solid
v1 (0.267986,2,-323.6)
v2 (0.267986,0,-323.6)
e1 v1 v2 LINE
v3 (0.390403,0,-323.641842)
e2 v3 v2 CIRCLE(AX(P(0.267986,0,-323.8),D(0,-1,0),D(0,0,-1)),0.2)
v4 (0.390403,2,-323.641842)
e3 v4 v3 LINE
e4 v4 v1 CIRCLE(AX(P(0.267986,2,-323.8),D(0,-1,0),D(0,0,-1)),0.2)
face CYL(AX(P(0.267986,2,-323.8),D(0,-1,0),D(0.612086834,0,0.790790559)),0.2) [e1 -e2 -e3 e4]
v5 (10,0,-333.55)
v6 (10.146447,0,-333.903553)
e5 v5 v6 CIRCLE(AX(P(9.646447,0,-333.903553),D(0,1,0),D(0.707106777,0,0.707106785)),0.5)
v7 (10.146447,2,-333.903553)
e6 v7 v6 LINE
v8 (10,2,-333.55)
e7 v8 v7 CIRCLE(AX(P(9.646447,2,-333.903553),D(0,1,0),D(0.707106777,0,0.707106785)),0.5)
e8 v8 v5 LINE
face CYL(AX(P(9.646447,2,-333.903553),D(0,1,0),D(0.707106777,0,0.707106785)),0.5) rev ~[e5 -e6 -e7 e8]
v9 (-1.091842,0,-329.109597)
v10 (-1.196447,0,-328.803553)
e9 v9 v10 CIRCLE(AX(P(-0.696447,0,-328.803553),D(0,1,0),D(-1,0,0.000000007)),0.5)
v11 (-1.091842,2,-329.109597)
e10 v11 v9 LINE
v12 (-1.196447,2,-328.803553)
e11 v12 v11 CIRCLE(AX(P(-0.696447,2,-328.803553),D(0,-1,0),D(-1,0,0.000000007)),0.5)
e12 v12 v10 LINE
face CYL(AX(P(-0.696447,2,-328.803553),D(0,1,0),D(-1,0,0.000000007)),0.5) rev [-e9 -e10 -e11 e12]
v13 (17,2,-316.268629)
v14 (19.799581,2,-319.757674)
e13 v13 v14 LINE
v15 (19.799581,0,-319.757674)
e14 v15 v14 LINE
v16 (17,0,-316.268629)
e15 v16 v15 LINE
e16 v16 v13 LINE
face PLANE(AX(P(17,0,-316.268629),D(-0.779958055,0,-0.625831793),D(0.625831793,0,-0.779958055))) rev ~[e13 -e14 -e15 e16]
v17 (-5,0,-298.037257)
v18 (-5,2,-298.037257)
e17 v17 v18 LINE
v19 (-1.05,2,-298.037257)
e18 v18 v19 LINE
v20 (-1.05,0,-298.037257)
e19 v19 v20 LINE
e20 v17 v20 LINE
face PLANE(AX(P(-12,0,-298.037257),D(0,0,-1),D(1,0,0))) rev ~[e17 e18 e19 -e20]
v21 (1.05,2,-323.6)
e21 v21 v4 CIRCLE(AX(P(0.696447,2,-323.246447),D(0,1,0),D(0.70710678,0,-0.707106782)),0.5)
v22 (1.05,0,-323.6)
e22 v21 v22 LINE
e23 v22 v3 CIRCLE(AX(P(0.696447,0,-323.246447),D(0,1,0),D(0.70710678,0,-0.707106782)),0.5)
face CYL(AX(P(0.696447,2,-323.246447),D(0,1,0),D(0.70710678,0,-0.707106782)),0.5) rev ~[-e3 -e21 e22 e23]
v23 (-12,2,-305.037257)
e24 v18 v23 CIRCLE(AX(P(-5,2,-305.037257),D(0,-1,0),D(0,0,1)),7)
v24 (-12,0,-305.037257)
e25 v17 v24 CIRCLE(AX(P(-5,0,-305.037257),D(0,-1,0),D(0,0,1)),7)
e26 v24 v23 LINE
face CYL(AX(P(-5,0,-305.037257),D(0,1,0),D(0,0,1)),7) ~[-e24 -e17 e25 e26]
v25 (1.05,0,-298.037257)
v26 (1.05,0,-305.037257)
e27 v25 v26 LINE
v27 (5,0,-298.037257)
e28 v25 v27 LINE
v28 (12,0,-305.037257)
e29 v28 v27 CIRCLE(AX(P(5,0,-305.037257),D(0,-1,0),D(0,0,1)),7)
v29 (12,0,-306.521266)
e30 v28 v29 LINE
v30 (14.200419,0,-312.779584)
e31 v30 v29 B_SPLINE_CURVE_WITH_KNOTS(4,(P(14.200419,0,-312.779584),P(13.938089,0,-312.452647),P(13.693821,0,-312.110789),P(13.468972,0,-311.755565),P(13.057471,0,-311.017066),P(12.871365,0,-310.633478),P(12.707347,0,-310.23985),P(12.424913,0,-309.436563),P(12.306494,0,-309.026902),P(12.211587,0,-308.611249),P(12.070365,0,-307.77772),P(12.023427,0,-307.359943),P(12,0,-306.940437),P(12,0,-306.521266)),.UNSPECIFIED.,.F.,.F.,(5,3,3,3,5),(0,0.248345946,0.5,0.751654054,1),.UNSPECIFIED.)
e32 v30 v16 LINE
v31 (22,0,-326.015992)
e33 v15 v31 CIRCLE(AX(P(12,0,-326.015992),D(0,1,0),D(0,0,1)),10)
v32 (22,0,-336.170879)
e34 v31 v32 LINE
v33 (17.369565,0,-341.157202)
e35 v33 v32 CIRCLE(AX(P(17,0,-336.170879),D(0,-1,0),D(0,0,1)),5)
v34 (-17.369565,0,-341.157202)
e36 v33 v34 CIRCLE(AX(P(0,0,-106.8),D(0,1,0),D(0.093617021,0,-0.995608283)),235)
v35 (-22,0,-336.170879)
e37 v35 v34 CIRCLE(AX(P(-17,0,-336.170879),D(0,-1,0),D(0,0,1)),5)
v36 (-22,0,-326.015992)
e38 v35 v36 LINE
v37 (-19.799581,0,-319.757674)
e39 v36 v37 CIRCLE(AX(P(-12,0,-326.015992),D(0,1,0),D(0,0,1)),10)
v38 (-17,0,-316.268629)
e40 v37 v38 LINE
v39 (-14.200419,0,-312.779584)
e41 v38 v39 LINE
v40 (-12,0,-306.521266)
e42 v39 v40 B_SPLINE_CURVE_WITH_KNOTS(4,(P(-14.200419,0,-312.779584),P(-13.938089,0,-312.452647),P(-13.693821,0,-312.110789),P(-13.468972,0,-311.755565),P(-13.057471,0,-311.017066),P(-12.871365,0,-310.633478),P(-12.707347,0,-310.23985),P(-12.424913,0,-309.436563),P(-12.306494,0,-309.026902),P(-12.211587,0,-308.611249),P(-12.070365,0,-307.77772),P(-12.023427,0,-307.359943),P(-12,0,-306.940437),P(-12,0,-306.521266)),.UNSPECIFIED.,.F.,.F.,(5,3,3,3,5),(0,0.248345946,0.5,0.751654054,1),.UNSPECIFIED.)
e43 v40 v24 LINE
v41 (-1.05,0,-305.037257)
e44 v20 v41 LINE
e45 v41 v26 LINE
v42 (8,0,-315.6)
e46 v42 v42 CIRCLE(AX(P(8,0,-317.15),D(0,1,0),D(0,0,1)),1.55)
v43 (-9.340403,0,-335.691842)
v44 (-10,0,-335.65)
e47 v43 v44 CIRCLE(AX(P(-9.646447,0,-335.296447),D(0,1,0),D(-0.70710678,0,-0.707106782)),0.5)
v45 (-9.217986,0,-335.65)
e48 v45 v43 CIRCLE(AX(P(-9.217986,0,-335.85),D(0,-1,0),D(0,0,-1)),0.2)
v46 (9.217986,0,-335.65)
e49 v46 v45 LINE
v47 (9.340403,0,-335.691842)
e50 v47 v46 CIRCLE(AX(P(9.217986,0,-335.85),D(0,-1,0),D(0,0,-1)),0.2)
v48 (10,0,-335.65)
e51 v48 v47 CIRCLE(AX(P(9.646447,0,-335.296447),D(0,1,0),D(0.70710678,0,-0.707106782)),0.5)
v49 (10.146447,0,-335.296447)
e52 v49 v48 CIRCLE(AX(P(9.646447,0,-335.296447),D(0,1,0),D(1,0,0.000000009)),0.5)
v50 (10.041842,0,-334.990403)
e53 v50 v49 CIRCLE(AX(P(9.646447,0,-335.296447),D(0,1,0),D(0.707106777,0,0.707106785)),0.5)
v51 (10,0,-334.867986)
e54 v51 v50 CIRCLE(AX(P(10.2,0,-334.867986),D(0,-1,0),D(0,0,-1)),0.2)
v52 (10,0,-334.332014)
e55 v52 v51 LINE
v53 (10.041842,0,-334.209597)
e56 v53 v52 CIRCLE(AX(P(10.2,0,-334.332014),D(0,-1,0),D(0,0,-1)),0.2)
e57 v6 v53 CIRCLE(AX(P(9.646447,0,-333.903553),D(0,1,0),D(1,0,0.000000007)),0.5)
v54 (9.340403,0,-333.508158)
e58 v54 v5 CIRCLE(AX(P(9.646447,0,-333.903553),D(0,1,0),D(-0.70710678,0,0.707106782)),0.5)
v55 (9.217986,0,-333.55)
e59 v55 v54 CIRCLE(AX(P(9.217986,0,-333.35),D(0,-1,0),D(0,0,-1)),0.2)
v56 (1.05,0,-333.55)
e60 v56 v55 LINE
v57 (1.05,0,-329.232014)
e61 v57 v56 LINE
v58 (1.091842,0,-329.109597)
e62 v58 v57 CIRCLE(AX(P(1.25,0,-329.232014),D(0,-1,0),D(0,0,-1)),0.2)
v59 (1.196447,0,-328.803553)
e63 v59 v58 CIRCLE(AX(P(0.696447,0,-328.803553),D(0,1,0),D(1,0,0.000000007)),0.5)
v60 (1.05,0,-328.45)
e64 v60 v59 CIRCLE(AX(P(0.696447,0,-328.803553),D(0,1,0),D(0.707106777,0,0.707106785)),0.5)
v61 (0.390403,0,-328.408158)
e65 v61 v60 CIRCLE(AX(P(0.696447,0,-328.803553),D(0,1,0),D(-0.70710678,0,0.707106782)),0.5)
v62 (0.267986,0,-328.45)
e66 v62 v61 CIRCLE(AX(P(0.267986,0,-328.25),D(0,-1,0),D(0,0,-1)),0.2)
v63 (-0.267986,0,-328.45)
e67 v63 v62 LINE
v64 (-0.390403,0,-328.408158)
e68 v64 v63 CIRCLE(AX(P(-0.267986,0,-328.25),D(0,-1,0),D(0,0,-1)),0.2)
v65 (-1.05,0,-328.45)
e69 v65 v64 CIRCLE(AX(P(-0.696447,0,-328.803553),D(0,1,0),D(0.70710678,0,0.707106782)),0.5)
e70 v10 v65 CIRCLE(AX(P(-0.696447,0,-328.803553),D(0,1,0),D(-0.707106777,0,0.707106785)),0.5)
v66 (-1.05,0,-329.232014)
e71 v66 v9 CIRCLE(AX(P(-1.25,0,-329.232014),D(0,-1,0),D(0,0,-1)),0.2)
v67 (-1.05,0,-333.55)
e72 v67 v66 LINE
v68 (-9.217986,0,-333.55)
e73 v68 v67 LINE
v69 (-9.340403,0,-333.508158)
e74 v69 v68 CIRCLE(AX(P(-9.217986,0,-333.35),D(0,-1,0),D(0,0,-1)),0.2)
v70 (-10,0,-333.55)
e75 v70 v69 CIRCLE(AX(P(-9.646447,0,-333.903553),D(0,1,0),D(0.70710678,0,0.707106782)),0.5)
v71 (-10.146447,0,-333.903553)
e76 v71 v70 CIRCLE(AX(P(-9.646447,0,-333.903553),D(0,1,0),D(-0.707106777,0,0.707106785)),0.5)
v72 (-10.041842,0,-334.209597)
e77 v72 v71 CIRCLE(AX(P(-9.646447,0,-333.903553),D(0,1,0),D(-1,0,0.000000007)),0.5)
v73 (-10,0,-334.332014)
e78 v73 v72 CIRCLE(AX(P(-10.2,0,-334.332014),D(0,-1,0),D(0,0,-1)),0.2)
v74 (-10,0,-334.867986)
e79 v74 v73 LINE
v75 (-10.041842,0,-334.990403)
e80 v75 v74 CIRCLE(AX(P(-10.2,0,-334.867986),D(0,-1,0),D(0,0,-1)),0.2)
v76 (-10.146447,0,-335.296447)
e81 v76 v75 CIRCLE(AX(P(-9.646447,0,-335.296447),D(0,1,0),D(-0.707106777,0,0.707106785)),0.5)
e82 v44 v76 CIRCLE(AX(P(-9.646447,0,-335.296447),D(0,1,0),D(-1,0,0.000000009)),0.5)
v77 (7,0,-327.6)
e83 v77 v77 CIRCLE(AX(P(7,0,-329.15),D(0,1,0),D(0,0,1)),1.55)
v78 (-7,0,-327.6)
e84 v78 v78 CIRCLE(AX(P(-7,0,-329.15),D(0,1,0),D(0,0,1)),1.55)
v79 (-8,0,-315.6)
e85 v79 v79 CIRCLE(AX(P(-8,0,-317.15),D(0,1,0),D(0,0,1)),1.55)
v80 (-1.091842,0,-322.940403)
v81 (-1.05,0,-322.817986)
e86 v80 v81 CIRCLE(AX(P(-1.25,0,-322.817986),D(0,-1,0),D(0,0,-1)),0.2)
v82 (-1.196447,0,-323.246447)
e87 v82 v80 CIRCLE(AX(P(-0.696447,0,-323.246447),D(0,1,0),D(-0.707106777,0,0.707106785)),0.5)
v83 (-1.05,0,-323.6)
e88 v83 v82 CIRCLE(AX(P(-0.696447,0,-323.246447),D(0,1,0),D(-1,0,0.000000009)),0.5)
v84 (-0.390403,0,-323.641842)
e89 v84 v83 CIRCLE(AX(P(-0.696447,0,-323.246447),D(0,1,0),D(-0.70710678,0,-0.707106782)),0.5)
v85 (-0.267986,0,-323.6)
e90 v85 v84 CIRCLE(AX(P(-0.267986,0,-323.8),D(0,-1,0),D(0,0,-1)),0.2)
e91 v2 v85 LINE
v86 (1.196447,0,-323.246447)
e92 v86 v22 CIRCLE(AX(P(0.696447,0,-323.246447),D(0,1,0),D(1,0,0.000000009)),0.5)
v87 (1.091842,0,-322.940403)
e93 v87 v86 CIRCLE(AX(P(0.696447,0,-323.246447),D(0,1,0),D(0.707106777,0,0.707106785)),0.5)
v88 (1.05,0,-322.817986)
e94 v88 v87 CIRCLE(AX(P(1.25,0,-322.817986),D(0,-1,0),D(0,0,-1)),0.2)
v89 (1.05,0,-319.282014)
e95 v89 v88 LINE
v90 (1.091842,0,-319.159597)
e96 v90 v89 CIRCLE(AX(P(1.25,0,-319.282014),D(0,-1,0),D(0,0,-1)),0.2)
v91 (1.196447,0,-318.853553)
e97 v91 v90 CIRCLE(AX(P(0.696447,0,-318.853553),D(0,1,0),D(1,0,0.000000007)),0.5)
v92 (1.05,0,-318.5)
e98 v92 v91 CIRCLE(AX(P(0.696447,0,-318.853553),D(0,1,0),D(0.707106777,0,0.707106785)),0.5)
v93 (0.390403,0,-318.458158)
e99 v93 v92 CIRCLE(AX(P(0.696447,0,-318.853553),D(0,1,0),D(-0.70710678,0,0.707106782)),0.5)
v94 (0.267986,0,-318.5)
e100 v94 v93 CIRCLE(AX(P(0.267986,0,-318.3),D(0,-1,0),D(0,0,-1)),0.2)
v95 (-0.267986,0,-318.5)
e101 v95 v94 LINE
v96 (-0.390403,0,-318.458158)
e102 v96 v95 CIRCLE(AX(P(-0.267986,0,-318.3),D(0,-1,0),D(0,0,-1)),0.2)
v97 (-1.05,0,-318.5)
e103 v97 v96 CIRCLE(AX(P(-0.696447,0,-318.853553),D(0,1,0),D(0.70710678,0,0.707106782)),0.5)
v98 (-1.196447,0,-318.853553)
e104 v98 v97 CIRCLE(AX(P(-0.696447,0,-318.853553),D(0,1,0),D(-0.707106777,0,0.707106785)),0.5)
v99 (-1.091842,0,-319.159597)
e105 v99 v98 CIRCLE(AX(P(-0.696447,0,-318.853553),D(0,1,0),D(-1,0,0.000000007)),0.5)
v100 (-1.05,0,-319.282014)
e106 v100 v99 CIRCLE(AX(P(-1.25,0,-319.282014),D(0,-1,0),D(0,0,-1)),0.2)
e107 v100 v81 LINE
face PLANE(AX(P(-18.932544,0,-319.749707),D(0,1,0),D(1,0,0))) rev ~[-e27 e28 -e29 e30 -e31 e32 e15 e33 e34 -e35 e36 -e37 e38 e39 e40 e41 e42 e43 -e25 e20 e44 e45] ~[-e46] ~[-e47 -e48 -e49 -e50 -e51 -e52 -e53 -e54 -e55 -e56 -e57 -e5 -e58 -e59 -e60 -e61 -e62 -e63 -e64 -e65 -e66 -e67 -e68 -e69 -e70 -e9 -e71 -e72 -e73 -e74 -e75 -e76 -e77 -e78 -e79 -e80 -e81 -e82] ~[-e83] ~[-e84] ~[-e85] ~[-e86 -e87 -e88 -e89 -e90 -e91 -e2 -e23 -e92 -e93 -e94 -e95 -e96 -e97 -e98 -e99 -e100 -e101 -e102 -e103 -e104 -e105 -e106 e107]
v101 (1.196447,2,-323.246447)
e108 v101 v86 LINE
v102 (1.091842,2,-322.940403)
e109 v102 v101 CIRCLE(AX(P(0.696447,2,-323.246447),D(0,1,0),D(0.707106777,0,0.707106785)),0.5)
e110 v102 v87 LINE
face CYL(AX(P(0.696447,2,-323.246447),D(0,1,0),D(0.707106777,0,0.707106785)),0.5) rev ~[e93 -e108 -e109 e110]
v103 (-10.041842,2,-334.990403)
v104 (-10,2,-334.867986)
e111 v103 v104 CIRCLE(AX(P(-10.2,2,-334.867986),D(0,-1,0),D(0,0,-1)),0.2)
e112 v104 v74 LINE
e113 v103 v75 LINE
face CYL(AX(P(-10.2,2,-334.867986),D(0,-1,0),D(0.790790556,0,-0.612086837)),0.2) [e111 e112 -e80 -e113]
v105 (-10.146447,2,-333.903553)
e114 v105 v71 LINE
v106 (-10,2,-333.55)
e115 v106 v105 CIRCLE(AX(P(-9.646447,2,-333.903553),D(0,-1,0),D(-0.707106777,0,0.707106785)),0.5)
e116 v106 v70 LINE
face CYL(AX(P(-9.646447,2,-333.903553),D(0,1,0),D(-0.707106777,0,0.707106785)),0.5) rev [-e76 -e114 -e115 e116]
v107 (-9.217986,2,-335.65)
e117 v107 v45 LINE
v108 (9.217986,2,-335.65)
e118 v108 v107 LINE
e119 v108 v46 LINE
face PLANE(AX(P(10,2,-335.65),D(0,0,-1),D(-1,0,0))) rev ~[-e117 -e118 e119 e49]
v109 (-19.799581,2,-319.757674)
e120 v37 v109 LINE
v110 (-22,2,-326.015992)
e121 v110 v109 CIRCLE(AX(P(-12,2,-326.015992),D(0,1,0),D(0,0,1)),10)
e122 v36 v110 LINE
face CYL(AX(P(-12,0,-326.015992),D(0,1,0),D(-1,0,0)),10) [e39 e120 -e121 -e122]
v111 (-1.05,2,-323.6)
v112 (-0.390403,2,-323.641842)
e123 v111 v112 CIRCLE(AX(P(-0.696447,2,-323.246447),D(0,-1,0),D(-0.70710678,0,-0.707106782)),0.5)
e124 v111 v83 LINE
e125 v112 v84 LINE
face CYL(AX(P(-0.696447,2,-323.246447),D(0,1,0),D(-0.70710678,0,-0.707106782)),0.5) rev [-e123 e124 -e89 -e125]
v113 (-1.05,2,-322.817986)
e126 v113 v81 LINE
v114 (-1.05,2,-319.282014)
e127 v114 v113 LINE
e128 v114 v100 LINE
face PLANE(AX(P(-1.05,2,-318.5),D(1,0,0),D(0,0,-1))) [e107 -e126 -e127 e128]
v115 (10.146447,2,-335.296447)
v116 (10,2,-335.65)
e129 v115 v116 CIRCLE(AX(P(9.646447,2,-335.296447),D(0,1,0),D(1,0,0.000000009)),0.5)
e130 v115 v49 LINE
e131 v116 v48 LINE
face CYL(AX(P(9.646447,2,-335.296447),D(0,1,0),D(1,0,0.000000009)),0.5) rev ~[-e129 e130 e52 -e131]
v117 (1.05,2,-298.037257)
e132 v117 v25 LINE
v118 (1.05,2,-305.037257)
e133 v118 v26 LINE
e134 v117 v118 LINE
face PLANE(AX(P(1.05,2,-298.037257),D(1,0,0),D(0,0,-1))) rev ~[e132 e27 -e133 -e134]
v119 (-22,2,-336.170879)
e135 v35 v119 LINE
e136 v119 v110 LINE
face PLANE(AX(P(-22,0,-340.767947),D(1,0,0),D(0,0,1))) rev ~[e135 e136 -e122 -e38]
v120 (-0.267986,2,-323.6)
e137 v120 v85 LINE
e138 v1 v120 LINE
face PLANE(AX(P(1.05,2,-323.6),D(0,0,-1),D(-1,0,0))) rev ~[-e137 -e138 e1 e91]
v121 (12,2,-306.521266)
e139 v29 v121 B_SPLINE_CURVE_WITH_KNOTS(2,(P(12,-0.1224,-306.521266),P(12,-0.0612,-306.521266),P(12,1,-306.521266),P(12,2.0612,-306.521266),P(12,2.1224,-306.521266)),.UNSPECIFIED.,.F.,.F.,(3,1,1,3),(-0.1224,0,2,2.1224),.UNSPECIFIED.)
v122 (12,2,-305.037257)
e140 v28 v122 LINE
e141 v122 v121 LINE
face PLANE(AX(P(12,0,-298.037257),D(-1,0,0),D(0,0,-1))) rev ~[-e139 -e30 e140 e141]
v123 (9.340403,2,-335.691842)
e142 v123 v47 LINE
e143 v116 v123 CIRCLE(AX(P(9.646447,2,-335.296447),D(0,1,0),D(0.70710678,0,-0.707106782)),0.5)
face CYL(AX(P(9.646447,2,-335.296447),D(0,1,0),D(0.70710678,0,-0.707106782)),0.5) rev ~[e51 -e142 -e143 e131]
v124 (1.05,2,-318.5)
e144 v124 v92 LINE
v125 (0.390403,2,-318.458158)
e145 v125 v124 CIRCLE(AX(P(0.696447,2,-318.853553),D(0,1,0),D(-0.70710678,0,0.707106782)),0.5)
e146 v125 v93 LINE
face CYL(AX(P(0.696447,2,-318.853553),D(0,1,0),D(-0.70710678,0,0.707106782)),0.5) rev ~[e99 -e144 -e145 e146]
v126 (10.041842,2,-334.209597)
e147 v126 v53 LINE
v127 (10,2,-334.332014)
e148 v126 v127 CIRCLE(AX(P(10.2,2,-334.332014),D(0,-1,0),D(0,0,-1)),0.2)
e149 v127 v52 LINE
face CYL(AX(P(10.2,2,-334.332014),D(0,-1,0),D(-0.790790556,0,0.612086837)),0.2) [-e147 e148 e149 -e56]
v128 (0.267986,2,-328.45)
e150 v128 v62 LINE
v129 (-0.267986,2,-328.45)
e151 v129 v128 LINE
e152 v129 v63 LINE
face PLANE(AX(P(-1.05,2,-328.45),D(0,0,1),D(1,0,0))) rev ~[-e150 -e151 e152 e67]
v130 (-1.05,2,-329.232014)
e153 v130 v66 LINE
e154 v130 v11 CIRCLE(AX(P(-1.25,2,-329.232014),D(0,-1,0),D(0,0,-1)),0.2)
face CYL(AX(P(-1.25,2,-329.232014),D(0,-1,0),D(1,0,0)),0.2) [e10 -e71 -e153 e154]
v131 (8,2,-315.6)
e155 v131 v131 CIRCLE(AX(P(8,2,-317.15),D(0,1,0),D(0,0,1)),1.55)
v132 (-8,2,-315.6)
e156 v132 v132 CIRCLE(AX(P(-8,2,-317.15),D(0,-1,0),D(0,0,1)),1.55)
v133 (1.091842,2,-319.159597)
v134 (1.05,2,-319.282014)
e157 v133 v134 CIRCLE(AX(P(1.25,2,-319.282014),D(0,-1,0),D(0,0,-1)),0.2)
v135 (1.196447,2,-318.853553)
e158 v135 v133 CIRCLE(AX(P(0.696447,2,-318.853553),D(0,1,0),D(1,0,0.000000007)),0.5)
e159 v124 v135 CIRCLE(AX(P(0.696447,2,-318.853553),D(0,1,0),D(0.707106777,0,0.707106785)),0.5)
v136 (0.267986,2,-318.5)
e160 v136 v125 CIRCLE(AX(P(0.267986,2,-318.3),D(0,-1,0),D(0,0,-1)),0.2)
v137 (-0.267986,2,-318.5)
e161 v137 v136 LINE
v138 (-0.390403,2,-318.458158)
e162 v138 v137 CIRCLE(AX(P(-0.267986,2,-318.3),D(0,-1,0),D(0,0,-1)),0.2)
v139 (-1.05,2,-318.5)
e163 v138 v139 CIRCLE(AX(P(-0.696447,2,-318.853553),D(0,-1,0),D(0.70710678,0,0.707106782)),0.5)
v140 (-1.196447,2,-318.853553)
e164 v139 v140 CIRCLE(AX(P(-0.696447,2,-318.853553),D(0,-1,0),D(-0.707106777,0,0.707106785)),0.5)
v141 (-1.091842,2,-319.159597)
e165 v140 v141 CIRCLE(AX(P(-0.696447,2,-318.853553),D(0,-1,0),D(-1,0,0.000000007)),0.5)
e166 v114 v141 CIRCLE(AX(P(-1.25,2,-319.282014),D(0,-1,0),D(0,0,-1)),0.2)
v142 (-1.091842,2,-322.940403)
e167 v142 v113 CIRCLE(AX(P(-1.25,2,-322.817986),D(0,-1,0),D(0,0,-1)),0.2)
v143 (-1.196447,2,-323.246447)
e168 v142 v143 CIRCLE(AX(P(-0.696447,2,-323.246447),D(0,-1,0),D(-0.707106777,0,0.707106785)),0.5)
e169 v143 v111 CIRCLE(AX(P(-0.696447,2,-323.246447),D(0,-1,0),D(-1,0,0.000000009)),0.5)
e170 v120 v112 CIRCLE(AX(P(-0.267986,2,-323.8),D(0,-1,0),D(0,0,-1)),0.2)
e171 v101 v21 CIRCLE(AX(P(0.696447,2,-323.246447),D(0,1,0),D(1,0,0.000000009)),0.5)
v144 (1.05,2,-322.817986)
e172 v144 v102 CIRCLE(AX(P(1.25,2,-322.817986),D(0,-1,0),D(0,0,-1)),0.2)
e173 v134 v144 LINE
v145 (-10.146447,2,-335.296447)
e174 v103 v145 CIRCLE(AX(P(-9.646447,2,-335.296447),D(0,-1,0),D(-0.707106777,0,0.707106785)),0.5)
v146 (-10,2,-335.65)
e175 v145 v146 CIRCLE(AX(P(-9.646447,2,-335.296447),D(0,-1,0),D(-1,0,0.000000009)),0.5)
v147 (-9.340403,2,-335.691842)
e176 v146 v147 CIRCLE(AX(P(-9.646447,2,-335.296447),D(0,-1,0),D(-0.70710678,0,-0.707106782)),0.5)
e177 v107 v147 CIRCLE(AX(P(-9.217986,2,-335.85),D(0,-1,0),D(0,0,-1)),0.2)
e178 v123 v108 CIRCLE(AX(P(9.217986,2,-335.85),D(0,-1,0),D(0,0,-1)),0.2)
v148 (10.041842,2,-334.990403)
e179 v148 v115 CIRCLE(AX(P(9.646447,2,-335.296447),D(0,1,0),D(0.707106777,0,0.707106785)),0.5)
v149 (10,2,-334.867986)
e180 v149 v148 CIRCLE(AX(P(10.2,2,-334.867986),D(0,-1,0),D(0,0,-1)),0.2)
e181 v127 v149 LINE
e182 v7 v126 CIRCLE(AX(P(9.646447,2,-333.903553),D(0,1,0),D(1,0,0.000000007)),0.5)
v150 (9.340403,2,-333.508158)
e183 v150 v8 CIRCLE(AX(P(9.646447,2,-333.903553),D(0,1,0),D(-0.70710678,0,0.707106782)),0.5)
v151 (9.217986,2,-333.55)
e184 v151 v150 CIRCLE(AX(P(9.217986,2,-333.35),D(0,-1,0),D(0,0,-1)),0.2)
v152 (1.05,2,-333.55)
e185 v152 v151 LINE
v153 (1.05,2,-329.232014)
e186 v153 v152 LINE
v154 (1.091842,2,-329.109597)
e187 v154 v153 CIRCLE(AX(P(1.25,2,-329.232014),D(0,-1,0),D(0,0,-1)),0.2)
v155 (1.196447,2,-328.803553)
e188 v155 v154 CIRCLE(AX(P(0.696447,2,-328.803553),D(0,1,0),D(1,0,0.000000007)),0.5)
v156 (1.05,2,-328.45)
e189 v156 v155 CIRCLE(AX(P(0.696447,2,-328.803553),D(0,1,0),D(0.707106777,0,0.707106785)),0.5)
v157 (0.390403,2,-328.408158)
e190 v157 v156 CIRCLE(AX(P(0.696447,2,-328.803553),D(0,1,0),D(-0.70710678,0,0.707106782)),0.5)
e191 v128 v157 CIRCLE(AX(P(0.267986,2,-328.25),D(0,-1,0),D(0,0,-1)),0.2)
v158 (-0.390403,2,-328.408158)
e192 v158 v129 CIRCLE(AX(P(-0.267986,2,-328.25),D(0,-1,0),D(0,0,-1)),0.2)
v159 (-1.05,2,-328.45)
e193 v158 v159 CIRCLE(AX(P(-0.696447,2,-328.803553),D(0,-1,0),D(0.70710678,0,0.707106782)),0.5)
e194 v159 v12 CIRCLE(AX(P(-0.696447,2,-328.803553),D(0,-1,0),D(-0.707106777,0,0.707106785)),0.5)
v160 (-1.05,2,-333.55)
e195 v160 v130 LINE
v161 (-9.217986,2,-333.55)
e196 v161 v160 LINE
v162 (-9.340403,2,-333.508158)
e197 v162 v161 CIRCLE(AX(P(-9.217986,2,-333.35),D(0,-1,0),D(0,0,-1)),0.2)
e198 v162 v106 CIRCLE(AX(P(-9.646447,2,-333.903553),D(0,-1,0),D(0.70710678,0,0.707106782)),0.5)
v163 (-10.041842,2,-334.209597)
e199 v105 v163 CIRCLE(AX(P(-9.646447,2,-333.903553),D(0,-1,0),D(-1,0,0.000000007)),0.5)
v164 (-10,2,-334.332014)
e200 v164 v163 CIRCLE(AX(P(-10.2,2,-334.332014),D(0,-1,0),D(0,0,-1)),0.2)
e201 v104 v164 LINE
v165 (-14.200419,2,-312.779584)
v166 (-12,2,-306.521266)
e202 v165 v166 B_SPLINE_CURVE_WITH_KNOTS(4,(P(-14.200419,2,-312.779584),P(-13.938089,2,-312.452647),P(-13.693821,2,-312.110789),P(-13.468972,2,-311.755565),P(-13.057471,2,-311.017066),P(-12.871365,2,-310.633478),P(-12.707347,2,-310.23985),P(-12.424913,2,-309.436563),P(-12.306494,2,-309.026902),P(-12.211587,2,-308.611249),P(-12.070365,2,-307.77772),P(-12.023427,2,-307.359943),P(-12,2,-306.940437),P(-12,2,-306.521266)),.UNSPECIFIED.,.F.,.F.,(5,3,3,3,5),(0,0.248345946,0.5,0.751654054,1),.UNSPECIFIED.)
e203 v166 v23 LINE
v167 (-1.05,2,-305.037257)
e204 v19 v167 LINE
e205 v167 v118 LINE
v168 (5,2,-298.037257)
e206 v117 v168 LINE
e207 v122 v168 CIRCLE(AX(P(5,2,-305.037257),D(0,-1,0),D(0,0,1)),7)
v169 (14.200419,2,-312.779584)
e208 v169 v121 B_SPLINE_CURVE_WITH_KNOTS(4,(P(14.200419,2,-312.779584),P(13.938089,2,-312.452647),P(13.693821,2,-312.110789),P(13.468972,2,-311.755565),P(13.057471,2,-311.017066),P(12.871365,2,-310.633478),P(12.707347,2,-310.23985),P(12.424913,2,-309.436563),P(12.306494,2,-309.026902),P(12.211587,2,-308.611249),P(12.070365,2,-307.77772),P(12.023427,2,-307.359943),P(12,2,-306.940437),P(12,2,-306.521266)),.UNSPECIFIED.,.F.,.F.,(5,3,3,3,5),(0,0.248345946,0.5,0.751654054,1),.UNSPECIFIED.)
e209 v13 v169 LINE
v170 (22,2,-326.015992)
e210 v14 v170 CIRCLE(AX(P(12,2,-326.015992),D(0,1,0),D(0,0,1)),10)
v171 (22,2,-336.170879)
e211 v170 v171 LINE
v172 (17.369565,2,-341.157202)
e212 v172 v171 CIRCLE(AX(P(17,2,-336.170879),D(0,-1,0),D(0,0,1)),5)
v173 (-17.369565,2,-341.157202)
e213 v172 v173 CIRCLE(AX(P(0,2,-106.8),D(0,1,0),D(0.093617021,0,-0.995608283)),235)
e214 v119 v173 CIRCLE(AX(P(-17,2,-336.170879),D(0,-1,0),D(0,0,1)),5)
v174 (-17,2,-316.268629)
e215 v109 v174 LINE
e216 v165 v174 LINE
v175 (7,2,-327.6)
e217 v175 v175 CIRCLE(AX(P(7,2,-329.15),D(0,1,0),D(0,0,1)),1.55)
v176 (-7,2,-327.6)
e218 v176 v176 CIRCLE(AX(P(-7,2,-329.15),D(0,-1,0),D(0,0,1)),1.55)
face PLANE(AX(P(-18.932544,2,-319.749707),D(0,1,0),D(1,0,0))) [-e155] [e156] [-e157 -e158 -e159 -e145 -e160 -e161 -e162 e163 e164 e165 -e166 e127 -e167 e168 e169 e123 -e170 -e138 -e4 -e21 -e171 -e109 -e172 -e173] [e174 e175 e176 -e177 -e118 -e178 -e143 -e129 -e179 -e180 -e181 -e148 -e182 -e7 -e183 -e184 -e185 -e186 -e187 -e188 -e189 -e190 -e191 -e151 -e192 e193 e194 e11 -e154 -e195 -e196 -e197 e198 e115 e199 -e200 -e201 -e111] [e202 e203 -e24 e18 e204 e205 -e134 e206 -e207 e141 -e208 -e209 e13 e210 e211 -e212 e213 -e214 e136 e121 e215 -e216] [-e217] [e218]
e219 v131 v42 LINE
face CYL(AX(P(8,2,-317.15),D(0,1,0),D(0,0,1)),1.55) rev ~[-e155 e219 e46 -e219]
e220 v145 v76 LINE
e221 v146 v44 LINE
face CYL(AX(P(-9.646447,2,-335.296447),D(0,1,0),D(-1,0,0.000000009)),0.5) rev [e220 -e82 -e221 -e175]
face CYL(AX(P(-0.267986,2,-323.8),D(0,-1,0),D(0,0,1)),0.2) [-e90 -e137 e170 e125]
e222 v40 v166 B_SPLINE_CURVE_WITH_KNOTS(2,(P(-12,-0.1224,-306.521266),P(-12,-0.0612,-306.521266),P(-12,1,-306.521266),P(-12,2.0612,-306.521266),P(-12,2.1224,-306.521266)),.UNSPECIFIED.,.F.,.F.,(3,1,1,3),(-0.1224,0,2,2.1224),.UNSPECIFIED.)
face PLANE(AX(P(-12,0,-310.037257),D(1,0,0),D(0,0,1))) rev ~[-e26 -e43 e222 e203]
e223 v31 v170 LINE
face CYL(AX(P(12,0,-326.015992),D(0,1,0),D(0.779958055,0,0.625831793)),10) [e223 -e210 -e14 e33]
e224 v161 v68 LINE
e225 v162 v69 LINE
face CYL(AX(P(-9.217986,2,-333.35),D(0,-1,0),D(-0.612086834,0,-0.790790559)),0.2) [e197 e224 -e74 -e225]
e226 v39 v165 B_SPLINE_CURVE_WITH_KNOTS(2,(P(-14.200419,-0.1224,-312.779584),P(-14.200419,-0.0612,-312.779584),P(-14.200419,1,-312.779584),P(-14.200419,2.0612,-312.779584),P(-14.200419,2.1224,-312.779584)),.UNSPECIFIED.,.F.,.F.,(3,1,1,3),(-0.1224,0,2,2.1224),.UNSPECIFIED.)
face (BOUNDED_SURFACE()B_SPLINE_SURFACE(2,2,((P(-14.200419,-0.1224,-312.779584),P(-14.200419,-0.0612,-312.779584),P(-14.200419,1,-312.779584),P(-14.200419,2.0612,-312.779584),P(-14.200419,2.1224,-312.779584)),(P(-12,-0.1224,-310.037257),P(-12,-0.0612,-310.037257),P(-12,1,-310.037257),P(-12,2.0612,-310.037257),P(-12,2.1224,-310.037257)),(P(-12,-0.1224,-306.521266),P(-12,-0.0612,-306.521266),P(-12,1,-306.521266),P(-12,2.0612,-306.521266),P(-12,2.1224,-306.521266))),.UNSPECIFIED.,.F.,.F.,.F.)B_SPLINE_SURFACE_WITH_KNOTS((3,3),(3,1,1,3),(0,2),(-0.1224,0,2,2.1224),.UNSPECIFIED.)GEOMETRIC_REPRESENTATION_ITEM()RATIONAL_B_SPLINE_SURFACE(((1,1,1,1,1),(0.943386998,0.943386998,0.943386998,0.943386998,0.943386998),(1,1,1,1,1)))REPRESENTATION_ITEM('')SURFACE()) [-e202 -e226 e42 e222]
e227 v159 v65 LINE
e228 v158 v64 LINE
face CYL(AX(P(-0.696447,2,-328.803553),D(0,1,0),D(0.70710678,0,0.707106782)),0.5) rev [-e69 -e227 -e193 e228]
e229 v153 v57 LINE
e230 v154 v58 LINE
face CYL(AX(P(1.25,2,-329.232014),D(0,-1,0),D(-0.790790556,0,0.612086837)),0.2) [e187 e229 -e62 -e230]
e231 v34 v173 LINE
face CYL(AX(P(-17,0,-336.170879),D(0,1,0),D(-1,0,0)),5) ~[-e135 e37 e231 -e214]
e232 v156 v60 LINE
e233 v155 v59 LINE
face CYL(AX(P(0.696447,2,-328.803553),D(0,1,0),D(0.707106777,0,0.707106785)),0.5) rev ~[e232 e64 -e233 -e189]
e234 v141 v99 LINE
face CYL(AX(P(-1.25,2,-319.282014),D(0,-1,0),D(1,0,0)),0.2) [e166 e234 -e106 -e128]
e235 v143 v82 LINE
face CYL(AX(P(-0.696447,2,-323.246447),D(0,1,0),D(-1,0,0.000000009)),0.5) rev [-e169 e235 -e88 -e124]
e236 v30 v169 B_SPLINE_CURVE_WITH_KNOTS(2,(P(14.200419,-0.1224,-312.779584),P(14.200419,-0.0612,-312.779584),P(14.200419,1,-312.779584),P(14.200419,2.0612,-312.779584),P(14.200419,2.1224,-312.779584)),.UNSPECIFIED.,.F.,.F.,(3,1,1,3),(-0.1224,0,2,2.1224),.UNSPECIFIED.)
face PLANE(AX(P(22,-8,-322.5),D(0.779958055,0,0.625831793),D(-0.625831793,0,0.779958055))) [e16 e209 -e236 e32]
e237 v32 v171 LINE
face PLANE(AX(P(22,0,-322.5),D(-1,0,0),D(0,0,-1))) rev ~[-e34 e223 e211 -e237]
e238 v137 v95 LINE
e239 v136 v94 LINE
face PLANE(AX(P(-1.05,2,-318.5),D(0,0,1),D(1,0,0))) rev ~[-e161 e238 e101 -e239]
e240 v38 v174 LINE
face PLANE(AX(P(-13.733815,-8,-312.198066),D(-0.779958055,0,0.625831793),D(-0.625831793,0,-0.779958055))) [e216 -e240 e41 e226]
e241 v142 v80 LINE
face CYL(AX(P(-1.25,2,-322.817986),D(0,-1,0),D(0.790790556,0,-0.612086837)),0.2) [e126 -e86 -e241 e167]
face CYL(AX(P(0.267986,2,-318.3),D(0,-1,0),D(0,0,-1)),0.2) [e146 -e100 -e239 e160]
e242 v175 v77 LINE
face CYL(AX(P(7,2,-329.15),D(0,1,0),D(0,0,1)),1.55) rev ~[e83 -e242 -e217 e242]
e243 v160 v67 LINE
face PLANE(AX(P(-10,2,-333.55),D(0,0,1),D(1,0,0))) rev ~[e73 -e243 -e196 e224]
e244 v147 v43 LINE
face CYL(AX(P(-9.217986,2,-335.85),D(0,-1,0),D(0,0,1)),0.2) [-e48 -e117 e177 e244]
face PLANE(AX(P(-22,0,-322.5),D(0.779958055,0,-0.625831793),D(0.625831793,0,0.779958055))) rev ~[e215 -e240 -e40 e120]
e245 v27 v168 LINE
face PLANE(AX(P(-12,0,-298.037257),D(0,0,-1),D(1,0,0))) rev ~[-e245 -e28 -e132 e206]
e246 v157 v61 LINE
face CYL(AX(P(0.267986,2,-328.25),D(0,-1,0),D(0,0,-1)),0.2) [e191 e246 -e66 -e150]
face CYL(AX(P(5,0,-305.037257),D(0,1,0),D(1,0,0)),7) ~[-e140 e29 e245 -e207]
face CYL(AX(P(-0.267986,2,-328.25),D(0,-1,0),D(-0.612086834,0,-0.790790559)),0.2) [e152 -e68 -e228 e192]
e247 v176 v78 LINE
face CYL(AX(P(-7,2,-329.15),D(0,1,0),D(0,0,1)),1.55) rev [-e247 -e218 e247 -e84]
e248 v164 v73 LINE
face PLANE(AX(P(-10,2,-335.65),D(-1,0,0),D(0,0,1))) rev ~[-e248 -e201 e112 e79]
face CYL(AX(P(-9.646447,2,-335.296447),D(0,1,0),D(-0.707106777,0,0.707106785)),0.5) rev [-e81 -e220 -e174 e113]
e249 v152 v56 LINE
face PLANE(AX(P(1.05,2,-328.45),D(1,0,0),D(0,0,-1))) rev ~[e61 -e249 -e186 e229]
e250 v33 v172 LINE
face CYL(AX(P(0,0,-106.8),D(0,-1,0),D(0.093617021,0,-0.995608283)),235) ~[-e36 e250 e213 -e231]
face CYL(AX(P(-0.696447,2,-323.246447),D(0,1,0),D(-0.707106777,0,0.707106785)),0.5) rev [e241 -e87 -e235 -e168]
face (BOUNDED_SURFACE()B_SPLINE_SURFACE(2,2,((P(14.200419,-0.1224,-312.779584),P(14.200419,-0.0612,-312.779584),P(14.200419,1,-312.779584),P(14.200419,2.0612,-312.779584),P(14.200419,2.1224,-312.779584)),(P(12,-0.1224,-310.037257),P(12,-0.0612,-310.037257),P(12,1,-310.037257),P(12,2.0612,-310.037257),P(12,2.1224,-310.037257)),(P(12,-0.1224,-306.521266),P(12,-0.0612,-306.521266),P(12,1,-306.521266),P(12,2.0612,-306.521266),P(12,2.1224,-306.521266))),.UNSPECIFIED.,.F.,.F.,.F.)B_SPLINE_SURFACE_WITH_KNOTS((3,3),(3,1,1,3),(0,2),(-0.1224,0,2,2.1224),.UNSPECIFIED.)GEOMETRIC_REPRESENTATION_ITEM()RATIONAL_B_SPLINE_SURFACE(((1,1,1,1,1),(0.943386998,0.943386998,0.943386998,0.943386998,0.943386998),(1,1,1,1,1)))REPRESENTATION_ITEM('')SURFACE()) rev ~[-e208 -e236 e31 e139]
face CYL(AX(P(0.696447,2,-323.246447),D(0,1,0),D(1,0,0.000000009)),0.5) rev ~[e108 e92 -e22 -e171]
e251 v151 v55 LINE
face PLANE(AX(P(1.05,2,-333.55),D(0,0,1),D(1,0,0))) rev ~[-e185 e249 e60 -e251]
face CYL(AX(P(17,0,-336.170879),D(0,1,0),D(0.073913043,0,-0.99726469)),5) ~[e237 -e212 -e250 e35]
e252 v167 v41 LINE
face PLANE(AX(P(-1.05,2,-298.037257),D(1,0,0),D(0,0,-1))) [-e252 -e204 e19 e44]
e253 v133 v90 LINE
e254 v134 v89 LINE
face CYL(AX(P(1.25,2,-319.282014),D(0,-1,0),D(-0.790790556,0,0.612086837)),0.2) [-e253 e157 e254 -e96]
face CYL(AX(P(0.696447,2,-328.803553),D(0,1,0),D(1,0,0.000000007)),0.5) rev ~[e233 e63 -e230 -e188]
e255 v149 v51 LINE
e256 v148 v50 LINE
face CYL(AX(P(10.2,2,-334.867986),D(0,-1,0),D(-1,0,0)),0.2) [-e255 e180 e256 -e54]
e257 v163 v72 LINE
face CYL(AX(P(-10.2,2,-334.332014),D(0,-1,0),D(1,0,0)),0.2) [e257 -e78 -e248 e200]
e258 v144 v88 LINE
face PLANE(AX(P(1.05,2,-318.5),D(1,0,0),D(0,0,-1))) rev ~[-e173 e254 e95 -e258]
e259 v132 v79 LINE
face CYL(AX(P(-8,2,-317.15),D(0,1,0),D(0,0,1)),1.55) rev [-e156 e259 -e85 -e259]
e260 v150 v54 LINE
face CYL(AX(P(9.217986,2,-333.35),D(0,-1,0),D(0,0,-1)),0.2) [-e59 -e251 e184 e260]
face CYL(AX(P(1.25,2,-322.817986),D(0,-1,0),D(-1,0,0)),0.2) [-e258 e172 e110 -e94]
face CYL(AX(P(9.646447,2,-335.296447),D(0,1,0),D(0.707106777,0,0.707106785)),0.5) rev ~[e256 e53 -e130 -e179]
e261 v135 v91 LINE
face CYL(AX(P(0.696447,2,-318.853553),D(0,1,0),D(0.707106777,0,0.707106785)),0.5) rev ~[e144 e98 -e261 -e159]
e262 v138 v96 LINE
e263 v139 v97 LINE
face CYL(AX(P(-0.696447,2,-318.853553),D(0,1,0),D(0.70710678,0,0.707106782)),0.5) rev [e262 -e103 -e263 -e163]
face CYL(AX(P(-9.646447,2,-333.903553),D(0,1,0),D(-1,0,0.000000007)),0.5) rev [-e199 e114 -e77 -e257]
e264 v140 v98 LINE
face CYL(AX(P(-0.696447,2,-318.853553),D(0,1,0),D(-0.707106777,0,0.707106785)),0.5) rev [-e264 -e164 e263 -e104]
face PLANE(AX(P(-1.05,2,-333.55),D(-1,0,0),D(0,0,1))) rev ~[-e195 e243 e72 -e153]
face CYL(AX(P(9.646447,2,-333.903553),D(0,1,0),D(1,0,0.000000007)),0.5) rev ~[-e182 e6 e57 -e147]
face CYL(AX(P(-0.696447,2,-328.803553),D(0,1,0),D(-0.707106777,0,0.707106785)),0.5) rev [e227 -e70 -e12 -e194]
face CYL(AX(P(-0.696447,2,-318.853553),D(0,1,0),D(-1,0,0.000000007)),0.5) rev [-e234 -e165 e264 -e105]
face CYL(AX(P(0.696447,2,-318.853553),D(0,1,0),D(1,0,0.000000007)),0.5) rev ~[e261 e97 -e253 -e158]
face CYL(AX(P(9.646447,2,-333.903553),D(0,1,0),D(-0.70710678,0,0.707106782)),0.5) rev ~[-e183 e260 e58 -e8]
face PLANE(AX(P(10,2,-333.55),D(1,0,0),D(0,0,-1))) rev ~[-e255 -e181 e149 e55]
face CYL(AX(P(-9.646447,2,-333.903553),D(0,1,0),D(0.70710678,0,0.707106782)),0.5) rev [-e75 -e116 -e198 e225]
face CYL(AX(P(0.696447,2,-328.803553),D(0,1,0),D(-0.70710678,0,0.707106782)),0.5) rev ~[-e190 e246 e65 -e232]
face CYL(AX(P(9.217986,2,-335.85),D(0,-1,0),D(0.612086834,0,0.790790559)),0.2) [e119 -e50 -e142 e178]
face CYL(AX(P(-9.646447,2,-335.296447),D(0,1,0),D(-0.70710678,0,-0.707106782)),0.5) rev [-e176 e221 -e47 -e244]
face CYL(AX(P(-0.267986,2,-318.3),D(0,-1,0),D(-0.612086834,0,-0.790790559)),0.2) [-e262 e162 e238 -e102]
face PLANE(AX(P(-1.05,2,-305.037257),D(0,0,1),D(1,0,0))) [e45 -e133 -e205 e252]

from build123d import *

# Parameters (mm, degrees)
EXTRUDE_1_DEPTH     = 2
SKETCH_2_W          = 1.05
SKETCH_2_H          = 5.1
CUT_EXTRUDE_1_DEPTH = 343.513123836
CUT_EXTRUDE_2_DEPTH = 343.513123836
FILLET_1_R          = 0.2
SKETCH_4_R          = 1.55
CUT_EXTRUDE_3_DEPTH = 343.513123836
FILLET_2_R          = 5
EXTRUDE_START       = -2
EXTRUDE_2_DEPTH     = 2
CUT_EXTRUDE_START   = -10
CUT_EXTRUDE_5_DEPTH = 10
SKETCH_6_W          = 2.1
SKETCH_6_H          = 7
CUT_EXTRUDE_4_DEPTH = 2
FILLET_8_R          = 7
FILLET_5_R          = 10
FILLET_6_R          = 10


with BuildPart() as part:
    # 草图1 → 凸台-拉伸1 (new body)
    with BuildSketch(Plane(origin=(0, 0, 0), x_dir=(1, 0, 0), z_dir=(0, 1, 0))):
        with BuildLine():
            Line((-22, 322.5), (-17, 320.227272727))
            Line((-17, 320.227272727), (-17, 312.037257391))
            ThreePointArc((-17, 312.037257391), (0, 312.5), (17, 312.037257391))
            Line((17, 312.037257391), (17, 320.227272727))
            Line((17, 320.227272727), (22, 322.5))
            Line((22, 322.5), (22, 340.767946523))
            ThreePointArc((22, 340.767946523), (0, 341.8), (-22, 340.767946523))
            Line((-22, 340.767946523), (-22, 322.5))
        make_face()
    extrude(amount=EXTRUDE_1_DEPTH)

    # 草图2 → 切除-拉伸1 (cut, through all)
    with BuildSketch(Plane(origin=(0, 2, 0), x_dir=(1, 0, 0), z_dir=(0, 1, 0))):
        Polygon((0, 335.65), (0, 328.45), (1.05, 328.45), (1.05, 333.55), (10, 333.55), (10, 335.65), align=None)
        Polygon((-1.05, 328.45), (0, 328.45), (0, 335.65), (-10, 335.65), (-10, 333.55), (-1.05, 333.55), align=None)
        with Locations((0.525, 321.05)):
            Rectangle(SKETCH_2_W, SKETCH_2_H)
        with Locations((-0.525, 321.05)):
            Rectangle(SKETCH_2_W, SKETCH_2_H)
    extrude(amount=-CUT_EXTRUDE_1_DEPTH, mode=Mode.SUBTRACT)

    # 草图3 → 切除-拉伸2 (cut, through all)
    with BuildSketch(Plane(origin=(0, 2, 0), x_dir=(1, 0, 0), z_dir=(0, 1, 0))):
        with BuildLine():
            Line((10, 335.65), (10, 334.942893219))
            ThreePointArc((10, 334.942893219), (10.108386376, 335.105104893), (10.146446609, 335.296446609))
            ThreePointArc((10.146446609, 335.296446609), (10.108386376, 335.487788326), (10, 335.65))
        make_face()
        with BuildLine():
            ThreePointArc((10, 335.65), (9.646446609, 335.796446609), (9.292893219, 335.65))
            Line((9.292893219, 335.65), (10, 335.65))
        make_face()
        with BuildLine():
            ThreePointArc((10.146446609, 333.903553391), (10.108386376, 334.094895107), (10, 334.257106781))
            Line((10, 334.257106781), (10, 333.55))
            ThreePointArc((10, 333.55), (10.108386376, 333.712211674), (10.146446609, 333.903553391))
        make_face()
        with BuildLine():
            Line((10, 333.55), (9.292893219, 333.55))
            ThreePointArc((9.292893219, 333.55), (9.646446609, 333.403553391), (10, 333.55))
        make_face()
        with BuildLine():
            ThreePointArc((1.196446609, 328.803553391), (1.158386376, 328.994895107), (1.05, 329.157106781))
            Line((1.05, 329.157106781), (1.05, 328.45))
            ThreePointArc((1.05, 328.45), (1.158386376, 328.612211674), (1.196446609, 328.803553391))
        make_face()
        with BuildLine():
            Line((1.05, 328.45), (0.342893219, 328.45))
            ThreePointArc((0.342893219, 328.45), (0.696446609, 328.303553391), (1.05, 328.45))
        make_face()
        with BuildLine():
            ThreePointArc((1.196446609, 323.246446609), (1.158386376, 323.437788326), (1.05, 323.6))
            Line((1.05, 323.6), (1.05, 322.892893219))
            ThreePointArc((1.05, 322.892893219), (1.158386376, 323.055104893), (1.196446609, 323.246446609))
        make_face()
        with BuildLine():
            ThreePointArc((1.05, 323.6), (0.696446609, 323.746446609), (0.342893219, 323.6))
            Line((0.342893219, 323.6), (1.05, 323.6))
        make_face()
        with BuildLine():
            ThreePointArc((1.196446609, 318.853553391), (1.158386376, 319.044895107), (1.05, 319.207106781))
            Line((1.05, 319.207106781), (1.05, 318.5))
            ThreePointArc((1.05, 318.5), (1.158386376, 318.662211674), (1.196446609, 318.853553391))
        make_face()
        with BuildLine():
            Line((1.05, 318.5), (0.342893219, 318.5))
            ThreePointArc((0.342893219, 318.5), (0.696446609, 318.353553391), (1.05, 318.5))
        make_face()
    cut_extrude_2 = extrude(amount=-CUT_EXTRUDE_2_DEPTH, mode=Mode.SUBTRACT)

    # 镜向1: 切除-拉伸2 across plane
    add(cut_extrude_2.mirror(Plane(origin=(0, 0, 0), x_dir=(0, 0, 1), z_dir=(1, 0, 0))), mode=Mode.SUBTRACT)

    # 圆角1
    fillet_1_edges = [part.edges().sort_by_distance(p)[0] for p in [
        (1.05, 1, -329.157106781),
        (0.342893219, 1, -323.6),
        (1.05, 1, -319.207106781),
        (9.292893219, 1, -335.65),
        (10, 1, -334.257106781),
        (0.342893219, 1, -328.45),
        (1.05, 1, -322.892893219),
        (0.342893219, 1, -318.5),
        (-10, 1, -334.942893219),
        (-9.292893219, 1, -333.55),
        (-1.05, 1, -329.157106781),
        (-0.342893219, 1, -323.6),
        (-1.05, 1, -319.207106781),
        (-9.292893219, 1, -335.65),
        (-10, 1, -334.257106781),
        (-0.342893219, 1, -328.45),
        (-1.05, 1, -322.892893219),
        (-0.342893219, 1, -318.5),
        (10, 1, -334.942893219),
        (9.292893219, 1, -333.55),
    ]]
    fillet(fillet_1_edges, radius=FILLET_1_R)

    # 草图4 → 切除-拉伸3 (cut, through all)
    with BuildSketch(Plane(origin=(0, 2, 0), x_dir=(1, 0, 0), z_dir=(0, 1, 0))):
        with Locations(Location((7, 329.15, 0), (0, 0, 270))):
            Circle(SKETCH_4_R)
        with Locations(Location((8, 317.15, 0), (0, 0, 270))):
            Circle(SKETCH_4_R)
    cut_extrude_3 = extrude(amount=-CUT_EXTRUDE_3_DEPTH, mode=Mode.SUBTRACT)

    # 镜向2: 切除-拉伸3 across plane
    add(cut_extrude_3.mirror(Plane(origin=(0, 0, 0), x_dir=(0, 0, 1), z_dir=(1, 0, 0))), mode=Mode.SUBTRACT)

    # 圆角2
    fillet_2_edges = [part.edges().sort_by_distance(p)[0] for p in [
        (-22, 1, -340.767946523),
        (22, 1, -340.767946523),
    ]]
    fillet(fillet_2_edges, radius=FILLET_2_R)

    # 草图5 → 凸台-拉伸2 (add)
    with BuildSketch(Plane(origin=(0, 2, 0), x_dir=(1, 0, 0), z_dir=(0, 1, 0)).offset(EXTRUDE_START)):
        with BuildLine():
            Line((-13.733814581, 312.198065877), (-12, 310.037257391))
            Line((-12, 310.037257391), (-12, 298.037257391))
            Line((-12, 298.037257391), (12, 298.037257391))
            Line((12, 298.037257391), (12, 310.037257391))
            Line((12, 310.037257391), (13.733814581, 312.198065877))
            ThreePointArc((13.733814581, 312.198065877), (0, 312.5), (-13.733814581, 312.198065877))
        make_face()
        Polygon((-22, 322.5), (-17, 316.268628695), (-17, 320.227272727), align=None)
        Polygon((17, 316.268628695), (22, 322.5), (17, 320.227272727), align=None)
    extrude(amount=EXTRUDE_2_DEPTH)

    # 草图5<3> → 切除-拉伸5 (cut)
    with BuildSketch(Plane(origin=(0, 2, 0), x_dir=(1, 0, 0), z_dir=(0, 1, 0)).offset(CUT_EXTRUDE_START)):
        with BuildLine():
            Line((-17, 310.037257391), (-17, 312.037257391))
            ThreePointArc((-17, 312.037257391), (-15.367117639, 312.121934019), (-13.733814581, 312.198065877))
            Line((-13.733814581, 312.198065877), (-22, 322.5))
            Line((-22, 322.5), (-22, 310.037257391))
            Line((-22, 310.037257391), (-17, 310.037257391))
        make_face()
        with BuildLine():
            ThreePointArc((-13.733814581, 312.198065877), (-15.367117639, 312.121934019), (-17, 312.037257391))
            Line((-17, 312.037257391), (-17, 310.037257391))
            Line((-17, 310.037257391), (-12, 310.037257391))
            Line((-12, 310.037257391), (-13.733814581, 312.198065877))
        make_face()
        with BuildLine():
            Line((22, 322.5), (13.733814581, 312.198065877))
            ThreePointArc((13.733814581, 312.198065877), (15.367117639, 312.121934019), (17, 312.037257391))
            Line((17, 312.037257391), (17, 310.037257391))
            Line((17, 310.037257391), (22, 310.037257391))
            Line((22, 310.037257391), (22, 322.5))
        make_face()
        with BuildLine():
            Line((13.733814581, 312.198065877), (12, 310.037257391))
            Line((12, 310.037257391), (17, 310.037257391))
            Line((17, 310.037257391), (17, 312.037257391))
            ThreePointArc((17, 312.037257391), (15.367117639, 312.121934019), (13.733814581, 312.198065877))
        make_face()
    extrude(amount=CUT_EXTRUDE_5_DEPTH, mode=Mode.SUBTRACT)

    # 草图6 → 切除-拉伸4 (cut)
    with BuildSketch(Plane(origin=(0, 2, 0), x_dir=(1, 0, 0), z_dir=(0, 1, 0))):
        with Locations((0, 301.537257391)):
            Rectangle(SKETCH_6_W, SKETCH_6_H)
    extrude(amount=-CUT_EXTRUDE_4_DEPTH, mode=Mode.SUBTRACT)

    # 圆角8
    fillet_8_edges = [part.edges().sort_by_distance(p)[0] for p in [
        (12, 1, -298.037257391),
        (-12, 1, -298.037257391),
    ]]
    fillet(fillet_8_edges, radius=FILLET_8_R)

    # 圆角5
    fillet_5_edges = [part.edges().sort_by_distance(p)[0] for p in [
        (22, 1, -322.5),
        (-22, 1, -322.5),
    ]]
    fillet(fillet_5_edges, radius=FILLET_5_R)

    # 圆角6
    fillet_6_edges = [part.edges().sort_by_distance(p)[0] for p in [
        (12, 1, -310.037257391),
        (-12, 1, -310.037257391),
    ]]
    fillet(fillet_6_edges, radius=FILLET_6_R)


solid = part.part
